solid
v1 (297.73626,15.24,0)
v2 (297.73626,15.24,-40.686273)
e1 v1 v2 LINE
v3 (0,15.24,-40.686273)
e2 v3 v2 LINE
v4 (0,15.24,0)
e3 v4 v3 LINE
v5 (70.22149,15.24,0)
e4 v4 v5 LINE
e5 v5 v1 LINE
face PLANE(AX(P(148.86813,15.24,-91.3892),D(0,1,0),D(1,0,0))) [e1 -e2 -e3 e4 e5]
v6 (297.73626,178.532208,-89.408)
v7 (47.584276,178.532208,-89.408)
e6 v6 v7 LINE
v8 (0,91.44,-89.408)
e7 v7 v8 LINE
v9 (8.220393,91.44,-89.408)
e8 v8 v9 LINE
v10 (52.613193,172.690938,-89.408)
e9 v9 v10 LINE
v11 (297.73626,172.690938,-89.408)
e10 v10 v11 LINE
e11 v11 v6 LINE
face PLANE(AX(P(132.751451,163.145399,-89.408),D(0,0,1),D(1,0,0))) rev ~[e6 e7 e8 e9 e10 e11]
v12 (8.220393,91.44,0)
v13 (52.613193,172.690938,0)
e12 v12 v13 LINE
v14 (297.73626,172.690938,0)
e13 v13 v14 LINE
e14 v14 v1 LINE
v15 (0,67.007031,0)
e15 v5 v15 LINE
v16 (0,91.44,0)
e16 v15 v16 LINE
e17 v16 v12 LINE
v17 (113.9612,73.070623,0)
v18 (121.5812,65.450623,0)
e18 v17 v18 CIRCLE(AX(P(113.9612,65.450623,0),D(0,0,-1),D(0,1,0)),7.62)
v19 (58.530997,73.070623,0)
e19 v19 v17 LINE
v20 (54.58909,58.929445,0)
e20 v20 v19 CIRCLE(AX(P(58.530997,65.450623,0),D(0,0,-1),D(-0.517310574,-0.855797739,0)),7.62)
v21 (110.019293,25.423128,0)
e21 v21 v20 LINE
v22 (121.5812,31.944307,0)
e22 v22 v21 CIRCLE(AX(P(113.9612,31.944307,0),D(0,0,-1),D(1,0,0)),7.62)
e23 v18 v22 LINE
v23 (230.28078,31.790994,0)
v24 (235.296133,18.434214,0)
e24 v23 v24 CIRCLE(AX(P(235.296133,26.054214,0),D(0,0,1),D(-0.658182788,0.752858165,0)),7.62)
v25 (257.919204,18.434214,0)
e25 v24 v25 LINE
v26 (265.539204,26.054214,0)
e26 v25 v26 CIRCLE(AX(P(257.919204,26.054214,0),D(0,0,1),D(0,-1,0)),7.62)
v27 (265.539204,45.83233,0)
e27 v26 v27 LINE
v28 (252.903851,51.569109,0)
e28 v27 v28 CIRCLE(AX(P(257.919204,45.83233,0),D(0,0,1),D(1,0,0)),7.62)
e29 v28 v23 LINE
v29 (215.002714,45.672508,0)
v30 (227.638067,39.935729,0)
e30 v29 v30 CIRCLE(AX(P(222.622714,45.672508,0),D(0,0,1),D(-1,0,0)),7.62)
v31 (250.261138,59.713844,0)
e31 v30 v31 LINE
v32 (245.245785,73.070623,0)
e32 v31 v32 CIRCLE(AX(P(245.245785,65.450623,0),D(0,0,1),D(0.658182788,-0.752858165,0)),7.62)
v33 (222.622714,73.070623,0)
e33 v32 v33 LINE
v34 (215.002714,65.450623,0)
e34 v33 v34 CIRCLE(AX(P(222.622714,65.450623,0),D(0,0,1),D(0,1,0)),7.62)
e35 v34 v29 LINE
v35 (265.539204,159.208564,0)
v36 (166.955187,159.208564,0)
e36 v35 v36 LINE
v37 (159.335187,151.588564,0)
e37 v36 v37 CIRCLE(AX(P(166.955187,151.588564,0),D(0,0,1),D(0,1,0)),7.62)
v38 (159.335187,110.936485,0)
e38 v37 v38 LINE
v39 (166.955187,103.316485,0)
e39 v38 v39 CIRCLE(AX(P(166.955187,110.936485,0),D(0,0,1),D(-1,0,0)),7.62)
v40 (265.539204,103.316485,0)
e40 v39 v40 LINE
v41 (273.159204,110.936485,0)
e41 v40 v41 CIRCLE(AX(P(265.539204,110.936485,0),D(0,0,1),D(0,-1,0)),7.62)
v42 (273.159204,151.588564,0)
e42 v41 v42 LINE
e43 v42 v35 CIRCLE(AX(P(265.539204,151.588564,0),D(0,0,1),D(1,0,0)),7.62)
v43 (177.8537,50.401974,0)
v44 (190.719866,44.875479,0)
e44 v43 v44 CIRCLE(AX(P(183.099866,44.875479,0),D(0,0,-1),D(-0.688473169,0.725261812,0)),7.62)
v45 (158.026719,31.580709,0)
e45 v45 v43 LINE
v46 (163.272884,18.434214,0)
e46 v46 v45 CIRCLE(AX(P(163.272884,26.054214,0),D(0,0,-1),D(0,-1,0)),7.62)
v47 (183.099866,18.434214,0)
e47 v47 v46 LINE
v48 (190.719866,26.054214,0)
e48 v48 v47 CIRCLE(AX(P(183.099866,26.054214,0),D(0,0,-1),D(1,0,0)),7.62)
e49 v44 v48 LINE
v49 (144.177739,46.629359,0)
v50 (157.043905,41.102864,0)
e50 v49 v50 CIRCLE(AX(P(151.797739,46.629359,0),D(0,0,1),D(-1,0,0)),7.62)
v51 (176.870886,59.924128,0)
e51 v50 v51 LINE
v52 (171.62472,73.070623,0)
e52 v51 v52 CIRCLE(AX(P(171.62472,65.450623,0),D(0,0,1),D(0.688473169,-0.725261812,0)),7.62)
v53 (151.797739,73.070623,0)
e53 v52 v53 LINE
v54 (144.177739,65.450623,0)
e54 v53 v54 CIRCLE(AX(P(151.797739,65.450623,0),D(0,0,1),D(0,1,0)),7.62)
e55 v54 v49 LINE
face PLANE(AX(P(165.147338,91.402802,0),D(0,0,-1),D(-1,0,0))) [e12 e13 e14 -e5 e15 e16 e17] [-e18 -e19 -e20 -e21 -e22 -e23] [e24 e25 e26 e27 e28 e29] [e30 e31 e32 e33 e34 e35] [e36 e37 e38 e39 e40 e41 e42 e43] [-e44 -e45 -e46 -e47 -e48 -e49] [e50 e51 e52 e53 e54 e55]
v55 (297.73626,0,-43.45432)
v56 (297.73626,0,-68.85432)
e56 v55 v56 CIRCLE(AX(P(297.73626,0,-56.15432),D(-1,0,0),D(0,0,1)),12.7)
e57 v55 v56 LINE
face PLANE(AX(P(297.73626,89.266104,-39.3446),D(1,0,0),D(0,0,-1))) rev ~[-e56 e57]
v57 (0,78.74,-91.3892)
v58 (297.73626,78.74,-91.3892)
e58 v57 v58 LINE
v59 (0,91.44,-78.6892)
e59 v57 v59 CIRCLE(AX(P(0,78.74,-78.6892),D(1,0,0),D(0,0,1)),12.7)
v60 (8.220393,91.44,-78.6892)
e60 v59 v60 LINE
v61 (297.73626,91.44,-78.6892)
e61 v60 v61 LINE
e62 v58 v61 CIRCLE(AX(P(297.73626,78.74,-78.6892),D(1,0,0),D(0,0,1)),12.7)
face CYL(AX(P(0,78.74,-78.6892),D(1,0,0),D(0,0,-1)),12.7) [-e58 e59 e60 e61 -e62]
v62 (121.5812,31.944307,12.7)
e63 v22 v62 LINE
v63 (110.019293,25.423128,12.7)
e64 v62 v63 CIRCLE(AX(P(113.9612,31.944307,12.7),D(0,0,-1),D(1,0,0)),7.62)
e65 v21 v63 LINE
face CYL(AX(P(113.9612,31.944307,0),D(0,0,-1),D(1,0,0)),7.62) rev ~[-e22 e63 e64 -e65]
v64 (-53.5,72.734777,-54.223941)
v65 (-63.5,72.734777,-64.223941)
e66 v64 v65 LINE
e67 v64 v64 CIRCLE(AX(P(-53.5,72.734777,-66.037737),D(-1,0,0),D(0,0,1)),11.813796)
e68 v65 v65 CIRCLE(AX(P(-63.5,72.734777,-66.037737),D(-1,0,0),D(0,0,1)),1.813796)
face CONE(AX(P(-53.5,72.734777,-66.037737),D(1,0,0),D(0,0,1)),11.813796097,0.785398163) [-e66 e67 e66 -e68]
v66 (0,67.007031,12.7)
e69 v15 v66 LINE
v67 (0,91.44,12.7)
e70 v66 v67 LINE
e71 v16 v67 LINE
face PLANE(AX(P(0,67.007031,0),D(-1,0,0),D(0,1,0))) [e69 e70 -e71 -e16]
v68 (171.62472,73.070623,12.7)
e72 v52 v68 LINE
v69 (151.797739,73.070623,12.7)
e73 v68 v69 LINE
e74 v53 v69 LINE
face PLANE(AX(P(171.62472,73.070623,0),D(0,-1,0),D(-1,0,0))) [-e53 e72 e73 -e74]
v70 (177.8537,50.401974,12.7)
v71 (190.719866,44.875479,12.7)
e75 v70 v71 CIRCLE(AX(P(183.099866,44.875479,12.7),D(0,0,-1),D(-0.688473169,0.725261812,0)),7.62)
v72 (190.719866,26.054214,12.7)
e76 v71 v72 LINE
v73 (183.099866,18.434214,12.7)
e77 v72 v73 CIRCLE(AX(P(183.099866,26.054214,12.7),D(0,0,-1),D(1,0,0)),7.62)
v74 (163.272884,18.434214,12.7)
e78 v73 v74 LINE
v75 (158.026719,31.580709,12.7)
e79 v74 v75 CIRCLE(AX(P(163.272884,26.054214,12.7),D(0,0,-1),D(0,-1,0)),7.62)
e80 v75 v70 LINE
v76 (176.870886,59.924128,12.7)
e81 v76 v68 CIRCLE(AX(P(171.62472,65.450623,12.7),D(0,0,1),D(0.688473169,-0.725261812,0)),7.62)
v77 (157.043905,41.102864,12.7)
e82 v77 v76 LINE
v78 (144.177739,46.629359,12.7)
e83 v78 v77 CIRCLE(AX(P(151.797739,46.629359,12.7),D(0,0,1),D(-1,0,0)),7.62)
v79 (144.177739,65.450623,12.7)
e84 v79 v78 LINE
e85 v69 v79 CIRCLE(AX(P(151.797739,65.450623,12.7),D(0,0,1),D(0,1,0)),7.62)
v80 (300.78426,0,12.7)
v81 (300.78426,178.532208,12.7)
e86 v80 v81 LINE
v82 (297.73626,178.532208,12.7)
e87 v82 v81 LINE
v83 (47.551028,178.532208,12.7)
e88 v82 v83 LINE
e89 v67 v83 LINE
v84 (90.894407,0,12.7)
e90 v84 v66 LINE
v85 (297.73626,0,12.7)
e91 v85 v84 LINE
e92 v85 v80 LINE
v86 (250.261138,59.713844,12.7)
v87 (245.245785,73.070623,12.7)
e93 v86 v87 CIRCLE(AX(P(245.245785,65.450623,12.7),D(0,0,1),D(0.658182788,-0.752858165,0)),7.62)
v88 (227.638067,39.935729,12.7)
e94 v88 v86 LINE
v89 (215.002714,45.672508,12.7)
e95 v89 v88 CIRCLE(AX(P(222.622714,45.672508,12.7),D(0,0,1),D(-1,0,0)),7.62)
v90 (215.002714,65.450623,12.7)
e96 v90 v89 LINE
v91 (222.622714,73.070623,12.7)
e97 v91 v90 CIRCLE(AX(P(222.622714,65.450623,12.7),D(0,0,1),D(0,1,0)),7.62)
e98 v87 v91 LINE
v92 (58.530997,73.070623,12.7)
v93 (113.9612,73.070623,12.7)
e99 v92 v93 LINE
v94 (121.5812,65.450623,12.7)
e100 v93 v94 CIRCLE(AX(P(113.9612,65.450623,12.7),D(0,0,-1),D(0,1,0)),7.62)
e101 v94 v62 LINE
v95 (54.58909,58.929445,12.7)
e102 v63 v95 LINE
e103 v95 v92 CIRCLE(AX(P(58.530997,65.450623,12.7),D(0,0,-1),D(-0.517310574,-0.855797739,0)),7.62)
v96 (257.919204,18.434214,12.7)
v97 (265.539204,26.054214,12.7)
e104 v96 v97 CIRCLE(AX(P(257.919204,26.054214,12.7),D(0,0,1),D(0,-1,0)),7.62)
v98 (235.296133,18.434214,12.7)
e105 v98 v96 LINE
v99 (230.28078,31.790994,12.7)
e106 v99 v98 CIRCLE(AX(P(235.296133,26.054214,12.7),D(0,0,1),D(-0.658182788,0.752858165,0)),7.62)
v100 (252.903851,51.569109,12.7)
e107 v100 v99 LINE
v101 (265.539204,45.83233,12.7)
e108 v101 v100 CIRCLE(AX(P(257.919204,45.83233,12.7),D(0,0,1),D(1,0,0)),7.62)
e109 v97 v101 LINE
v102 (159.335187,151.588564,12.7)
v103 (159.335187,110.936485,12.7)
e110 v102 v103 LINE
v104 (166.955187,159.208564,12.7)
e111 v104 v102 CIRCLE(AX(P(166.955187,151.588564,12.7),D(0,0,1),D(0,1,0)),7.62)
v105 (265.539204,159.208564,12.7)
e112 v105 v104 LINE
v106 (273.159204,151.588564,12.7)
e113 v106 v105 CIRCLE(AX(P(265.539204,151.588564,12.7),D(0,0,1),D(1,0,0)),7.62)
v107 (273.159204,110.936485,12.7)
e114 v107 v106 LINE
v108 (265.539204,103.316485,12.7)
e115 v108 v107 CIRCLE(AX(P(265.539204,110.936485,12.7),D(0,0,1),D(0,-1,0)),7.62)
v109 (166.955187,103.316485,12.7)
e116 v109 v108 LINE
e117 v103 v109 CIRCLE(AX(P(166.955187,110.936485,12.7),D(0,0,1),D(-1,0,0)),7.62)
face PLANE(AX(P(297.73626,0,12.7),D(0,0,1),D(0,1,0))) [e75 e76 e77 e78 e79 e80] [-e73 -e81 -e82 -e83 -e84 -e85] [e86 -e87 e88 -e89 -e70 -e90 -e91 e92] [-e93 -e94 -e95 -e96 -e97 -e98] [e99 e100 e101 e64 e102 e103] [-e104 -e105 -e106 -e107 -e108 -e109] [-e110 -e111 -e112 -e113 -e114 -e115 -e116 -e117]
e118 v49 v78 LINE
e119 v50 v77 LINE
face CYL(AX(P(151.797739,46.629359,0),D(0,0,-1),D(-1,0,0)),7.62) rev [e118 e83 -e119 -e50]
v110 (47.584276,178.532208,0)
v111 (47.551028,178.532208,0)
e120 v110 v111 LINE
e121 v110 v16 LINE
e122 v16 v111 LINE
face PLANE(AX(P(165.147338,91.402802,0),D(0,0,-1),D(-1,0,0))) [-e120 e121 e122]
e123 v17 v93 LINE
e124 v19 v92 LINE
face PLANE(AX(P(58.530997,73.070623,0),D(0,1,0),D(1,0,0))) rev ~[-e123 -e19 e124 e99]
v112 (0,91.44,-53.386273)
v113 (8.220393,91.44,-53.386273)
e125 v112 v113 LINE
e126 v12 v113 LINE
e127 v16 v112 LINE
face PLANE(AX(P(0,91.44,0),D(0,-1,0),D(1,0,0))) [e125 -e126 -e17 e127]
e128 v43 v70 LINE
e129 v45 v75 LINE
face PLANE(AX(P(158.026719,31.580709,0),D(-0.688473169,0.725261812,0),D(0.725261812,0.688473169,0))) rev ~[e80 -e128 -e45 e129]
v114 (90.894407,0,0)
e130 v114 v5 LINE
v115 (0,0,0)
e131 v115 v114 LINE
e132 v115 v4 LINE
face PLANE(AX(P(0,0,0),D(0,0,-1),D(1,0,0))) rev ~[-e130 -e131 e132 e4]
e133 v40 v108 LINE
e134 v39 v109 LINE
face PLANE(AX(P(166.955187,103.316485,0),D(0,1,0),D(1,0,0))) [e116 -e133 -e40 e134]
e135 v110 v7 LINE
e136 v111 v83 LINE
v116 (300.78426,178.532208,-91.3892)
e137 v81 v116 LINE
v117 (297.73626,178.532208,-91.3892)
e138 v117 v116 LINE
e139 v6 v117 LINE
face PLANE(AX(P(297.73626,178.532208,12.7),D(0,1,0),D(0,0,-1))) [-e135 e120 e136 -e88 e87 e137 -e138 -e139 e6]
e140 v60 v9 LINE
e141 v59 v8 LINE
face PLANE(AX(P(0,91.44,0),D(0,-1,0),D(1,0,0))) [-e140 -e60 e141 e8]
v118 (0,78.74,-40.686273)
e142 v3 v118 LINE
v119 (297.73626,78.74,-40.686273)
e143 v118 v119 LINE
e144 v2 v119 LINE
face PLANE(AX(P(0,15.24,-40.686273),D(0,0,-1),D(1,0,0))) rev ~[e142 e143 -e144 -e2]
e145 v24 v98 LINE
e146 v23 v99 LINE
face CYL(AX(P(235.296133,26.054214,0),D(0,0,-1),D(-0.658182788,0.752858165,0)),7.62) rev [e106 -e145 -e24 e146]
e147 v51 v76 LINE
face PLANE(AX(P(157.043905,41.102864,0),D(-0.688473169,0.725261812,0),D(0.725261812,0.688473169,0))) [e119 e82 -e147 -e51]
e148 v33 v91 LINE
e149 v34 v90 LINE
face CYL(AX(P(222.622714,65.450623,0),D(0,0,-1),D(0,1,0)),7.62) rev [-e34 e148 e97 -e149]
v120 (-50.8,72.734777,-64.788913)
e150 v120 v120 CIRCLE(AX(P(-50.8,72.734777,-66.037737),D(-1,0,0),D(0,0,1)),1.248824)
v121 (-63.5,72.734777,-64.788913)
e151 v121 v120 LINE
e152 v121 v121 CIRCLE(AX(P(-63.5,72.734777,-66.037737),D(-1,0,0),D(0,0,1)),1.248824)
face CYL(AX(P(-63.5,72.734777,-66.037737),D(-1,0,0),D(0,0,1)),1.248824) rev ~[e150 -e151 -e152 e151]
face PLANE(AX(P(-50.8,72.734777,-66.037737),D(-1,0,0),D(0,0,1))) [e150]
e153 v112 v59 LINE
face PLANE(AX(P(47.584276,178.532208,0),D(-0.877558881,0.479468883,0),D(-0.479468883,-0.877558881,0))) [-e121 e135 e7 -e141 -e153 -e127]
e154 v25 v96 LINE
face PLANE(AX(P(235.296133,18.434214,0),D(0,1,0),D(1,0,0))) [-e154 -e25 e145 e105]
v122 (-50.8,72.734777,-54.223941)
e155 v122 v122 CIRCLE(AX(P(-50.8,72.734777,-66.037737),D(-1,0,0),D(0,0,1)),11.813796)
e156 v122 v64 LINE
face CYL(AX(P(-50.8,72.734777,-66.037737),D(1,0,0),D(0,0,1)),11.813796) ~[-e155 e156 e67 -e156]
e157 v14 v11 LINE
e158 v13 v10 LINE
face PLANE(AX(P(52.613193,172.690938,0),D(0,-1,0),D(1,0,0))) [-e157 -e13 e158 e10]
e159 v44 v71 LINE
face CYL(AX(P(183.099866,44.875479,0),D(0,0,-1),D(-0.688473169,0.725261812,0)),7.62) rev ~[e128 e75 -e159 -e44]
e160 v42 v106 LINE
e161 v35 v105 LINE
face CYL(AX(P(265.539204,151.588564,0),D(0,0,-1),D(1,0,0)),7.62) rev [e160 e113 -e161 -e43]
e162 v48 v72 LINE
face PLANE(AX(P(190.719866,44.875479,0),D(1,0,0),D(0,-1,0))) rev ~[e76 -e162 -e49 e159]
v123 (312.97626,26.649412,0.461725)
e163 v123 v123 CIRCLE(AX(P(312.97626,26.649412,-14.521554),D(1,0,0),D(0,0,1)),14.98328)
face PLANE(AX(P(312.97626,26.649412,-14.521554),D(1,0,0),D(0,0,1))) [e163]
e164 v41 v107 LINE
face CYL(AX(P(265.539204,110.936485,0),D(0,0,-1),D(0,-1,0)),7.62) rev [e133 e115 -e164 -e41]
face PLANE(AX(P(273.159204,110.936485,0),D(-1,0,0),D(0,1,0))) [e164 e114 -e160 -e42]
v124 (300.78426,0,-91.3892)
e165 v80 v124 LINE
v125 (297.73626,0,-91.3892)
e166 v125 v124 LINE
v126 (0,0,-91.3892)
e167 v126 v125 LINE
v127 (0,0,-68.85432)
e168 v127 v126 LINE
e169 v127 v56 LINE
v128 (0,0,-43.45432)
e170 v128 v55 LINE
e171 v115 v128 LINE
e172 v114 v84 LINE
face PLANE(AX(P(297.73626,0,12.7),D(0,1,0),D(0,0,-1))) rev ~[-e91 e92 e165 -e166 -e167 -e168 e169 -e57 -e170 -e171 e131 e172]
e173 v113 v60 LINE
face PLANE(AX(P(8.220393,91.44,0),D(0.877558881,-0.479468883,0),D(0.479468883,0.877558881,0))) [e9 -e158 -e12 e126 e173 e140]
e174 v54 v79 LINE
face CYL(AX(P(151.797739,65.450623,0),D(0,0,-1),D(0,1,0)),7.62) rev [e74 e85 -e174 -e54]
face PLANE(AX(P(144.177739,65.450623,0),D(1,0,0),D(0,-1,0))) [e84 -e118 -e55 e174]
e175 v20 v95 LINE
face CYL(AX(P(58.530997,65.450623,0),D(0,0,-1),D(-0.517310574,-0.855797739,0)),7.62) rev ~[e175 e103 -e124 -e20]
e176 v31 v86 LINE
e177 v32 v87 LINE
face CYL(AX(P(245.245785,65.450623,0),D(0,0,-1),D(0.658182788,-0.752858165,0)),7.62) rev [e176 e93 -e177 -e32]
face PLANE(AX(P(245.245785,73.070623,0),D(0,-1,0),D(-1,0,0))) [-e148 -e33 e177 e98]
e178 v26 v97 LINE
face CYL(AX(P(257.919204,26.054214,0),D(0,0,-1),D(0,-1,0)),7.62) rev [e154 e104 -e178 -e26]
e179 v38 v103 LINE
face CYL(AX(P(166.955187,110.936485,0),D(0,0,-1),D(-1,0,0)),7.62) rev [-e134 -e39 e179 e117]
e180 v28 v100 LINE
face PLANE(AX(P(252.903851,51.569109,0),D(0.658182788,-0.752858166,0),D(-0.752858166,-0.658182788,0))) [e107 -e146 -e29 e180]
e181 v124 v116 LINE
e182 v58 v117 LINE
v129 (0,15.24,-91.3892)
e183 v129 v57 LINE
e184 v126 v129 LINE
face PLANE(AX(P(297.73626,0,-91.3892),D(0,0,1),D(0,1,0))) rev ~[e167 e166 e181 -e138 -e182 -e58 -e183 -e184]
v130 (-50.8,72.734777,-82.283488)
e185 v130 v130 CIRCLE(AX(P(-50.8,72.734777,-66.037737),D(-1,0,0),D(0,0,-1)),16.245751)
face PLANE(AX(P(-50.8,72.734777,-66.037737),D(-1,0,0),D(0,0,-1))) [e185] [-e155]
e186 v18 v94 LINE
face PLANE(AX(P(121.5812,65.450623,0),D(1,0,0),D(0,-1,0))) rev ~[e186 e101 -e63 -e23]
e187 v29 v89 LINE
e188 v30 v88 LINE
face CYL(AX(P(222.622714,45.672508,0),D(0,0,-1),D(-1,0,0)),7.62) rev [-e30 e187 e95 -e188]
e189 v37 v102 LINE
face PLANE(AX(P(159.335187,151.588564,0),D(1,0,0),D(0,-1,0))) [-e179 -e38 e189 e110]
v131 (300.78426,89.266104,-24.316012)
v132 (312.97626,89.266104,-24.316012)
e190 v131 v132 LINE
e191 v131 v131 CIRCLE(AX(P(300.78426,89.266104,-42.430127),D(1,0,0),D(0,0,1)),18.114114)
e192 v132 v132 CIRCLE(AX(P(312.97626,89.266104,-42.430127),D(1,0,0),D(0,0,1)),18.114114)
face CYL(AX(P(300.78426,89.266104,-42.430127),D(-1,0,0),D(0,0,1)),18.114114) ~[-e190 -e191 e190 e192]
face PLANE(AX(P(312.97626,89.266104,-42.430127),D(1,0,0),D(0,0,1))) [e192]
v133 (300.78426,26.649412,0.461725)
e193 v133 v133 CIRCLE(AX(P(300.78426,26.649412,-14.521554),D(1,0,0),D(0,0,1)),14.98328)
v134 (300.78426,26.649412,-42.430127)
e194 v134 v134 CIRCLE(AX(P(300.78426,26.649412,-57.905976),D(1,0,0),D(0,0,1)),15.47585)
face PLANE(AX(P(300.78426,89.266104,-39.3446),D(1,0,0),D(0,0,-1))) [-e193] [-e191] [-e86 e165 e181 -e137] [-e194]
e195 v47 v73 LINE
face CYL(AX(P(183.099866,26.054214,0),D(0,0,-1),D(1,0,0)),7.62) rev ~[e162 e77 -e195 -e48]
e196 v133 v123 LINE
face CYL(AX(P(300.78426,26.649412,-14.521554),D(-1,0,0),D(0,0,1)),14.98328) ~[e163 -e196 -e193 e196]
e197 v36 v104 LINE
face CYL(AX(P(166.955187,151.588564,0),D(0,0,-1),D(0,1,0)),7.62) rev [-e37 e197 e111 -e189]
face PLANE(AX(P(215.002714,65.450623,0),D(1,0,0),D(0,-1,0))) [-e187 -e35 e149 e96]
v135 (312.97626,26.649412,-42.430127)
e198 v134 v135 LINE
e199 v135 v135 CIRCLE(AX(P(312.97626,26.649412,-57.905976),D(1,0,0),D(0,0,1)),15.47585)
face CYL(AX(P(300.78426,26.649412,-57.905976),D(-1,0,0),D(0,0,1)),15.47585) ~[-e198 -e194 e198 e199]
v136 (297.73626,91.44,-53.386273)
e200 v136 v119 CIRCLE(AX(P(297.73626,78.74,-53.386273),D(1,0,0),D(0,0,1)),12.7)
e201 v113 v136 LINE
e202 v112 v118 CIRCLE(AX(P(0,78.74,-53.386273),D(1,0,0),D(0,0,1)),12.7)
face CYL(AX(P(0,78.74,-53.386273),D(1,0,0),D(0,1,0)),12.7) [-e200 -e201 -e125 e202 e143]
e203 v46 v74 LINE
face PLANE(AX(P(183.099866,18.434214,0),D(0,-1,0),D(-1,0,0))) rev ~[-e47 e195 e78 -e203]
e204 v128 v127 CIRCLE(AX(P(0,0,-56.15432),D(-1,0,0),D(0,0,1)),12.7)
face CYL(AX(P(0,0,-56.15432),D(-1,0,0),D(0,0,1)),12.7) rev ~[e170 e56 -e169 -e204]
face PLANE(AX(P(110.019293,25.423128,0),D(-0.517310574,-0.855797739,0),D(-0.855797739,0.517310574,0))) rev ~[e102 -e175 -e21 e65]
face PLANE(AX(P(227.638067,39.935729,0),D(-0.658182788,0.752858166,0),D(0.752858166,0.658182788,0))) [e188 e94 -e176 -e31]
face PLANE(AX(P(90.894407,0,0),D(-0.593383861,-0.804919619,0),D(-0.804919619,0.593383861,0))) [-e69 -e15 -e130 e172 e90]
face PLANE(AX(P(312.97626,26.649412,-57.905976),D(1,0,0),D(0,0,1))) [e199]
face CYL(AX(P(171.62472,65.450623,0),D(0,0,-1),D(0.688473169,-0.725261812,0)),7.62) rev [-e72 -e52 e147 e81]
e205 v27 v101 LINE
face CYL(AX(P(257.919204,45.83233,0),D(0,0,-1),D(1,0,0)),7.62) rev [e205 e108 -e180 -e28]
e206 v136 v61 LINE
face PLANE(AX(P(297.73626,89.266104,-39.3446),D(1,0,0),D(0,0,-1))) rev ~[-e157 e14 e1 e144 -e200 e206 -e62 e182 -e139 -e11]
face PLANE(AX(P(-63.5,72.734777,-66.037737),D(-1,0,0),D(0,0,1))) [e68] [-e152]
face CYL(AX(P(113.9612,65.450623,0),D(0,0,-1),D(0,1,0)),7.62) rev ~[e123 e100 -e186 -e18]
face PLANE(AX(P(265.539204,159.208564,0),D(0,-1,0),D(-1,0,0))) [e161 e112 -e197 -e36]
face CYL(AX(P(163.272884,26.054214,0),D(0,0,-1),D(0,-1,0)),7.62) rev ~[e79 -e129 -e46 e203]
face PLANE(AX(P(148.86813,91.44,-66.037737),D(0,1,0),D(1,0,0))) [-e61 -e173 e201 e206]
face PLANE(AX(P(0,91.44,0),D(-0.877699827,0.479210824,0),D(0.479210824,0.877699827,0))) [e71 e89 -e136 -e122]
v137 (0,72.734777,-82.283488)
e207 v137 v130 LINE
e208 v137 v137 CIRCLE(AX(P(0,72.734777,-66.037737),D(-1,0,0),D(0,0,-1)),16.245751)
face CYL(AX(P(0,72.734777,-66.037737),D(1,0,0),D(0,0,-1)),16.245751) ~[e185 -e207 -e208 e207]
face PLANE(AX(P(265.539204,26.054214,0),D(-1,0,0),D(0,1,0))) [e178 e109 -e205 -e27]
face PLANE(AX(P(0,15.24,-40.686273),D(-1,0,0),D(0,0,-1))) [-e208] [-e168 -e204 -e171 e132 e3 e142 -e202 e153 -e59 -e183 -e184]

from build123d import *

# Parameters (mm, degrees)
SKETCH1_W           = 297.73626
SKETCH1_H           = 182.7784
BOSS_EXTRUDE1_DEPTH = 15.24
CUT_EXTRUDE1_DEPTH  = 350.695698609
CUT_EXTRUDE2_DEPTH  = 350.695698609
SKETCH5_W           = 297.73626
SKETCH5_H           = 50.702926555
BOSS_EXTRUDE2_DEPTH = 76.2
FILLET1_R           = 12.7
FILLET2_R           = 12.7
SKETCH6_R           = 16.245750799
BOSS_EXTRUDE3_DEPTH = 50.8
SKETCH7_R           = 11.813796097
BOSS_EXTRUDE4_DEPTH = 12.7
CHAMFER1_SIZE       = 10
SKETCH8_R           = 1.248823532
CUT_EXTRUDE3_DEPTH  = 12.7
BOSS_EXTRUDE5_DEPTH = 12.7
BOSS_EXTRUDE6_DEPTH = 89.408
SKETCH11_W          = 104.0892
SKETCH11_H          = 178.532208179
BOSS_EXTRUDE7_DEPTH = 3.048
SKETCH12_R          = 15.475849778
SKETCH12_R_2        = 18.114114382
SKETCH12_R_3        = 14.983279797
BOSS_EXTRUDE8_DEPTH = 12.192


with BuildPart() as part:
    # Sketch1 → Boss-Extrude1 (new body)
    with BuildSketch(Plane(origin=(0, 0, 0), x_dir=(1, 0, 0), z_dir=(0, 1, 0))):
        with Locations((148.86813, 91.3892)):
            Rectangle(SKETCH1_W, SKETCH1_H)
    extrude(amount=BOSS_EXTRUDE1_DEPTH)

    # Sketch2 → Cut-Extrude1 (cut, through all)
    with BuildSketch(Plane.ZY):
        with BuildLine():
            ThreePointArc((-43.45432, 0), (-56.15432, 12.7), (-68.85432, 0))
            Line((-68.85432, 0), (-43.45432, 0))
        make_face()
        with BuildLine():
            ThreePointArc((-113.92408, 0), (-126.62408, 12.7), (-139.32408, 0))
            Line((-139.32408, 0), (-126.62408, 0))
            Line((-126.62408, 0), (-113.92408, 0))
        make_face()
    extrude(amount=-CUT_EXTRUDE1_DEPTH, mode=Mode.SUBTRACT)

    # Sketch4 → Cut-Extrude2 (cut, through all)
    with BuildSketch(Plane.ZY):
        with BuildLine():
            Line((-113.92408, 0), (-91.3892, 0))
            Line((-91.3892, 0), (-91.3892, 15.24))
            Line((-91.3892, 15.24), (-182.7784, 15.24))
            Line((-182.7784, 15.24), (-182.7784, 0))
            Line((-182.7784, 0), (-139.32408, 0))
            ThreePointArc((-139.32408, 0), (-126.62408, 12.7), (-113.92408, 0))
        make_face()
    extrude(amount=-CUT_EXTRUDE2_DEPTH, mode=Mode.SUBTRACT)

    # Sketch5 → Boss-Extrude2 (add)
    with BuildSketch(Plane(origin=(0, 15.24, 0), x_dir=(1, 0, 0), z_dir=(0, 1, 0))):
        with Locations((148.86813, 66.037736723)):
            Rectangle(SKETCH5_W, SKETCH5_H)
    extrude(amount=BOSS_EXTRUDE2_DEPTH)

    # Fillet1
    fillet1_edges = [part.edges().sort_by_distance(p)[0] for p in [
        (148.86813, 91.44, -91.3892),
    ]]
    fillet(fillet1_edges, radius=FILLET1_R)

    # Fillet2
    fillet2_edges = [part.edges().sort_by_distance(p)[0] for p in [
        (148.86813, 91.44, -40.686273445),
    ]]
    fillet(fillet2_edges, radius=FILLET2_R)

    # Sketch6 → Boss-Extrude3 (add)
    with BuildSketch(Plane.ZY):
        with Locations(Location((-66.037736722, 72.73477654, 0), (0, 0, 180))):
            Circle(SKETCH6_R)
    extrude(amount=BOSS_EXTRUDE3_DEPTH)

    # Sketch7 → Boss-Extrude4 (add)
    with BuildSketch(Plane.ZY.offset(50.8)):
        with Locations((-66.037736722, 72.73477654)):
            Circle(SKETCH7_R)
    extrude(amount=BOSS_EXTRUDE4_DEPTH)

    # Chamfer1
    chamfer1_edges = [part.edges().sort_by_distance(p)[0] for p in [
        (-63.5, 72.73477654, -77.851532819),
    ]]
    chamfer(chamfer1_edges, length=CHAMFER1_SIZE)

    # Sketch8 → Cut-Extrude3 (cut)
    with BuildSketch(Plane.ZY.offset(63.5)):
        with Locations((-66.037736722, 72.73477654)):
            Circle(SKETCH8_R)
    extrude(amount=-CUT_EXTRUDE3_DEPTH, mode=Mode.SUBTRACT)

    # Sketch9 → Boss-Extrude5 (add)
    with BuildSketch(Plane.XY):
        Polygon((297.73626, 0), (90.894406839, 0), (0, 67.007031279), (0, 91.44), (47.551027836, 178.532208179), (90.894406839, 178.532208179), (297.73626, 178.532208179), align=None)
        with BuildLine():
            Line((58.530996724, 73.070623488), (113.961199629, 73.070623488))
            ThreePointArc((113.961199629, 73.070623488), (119.349353302, 70.83877716), (121.581199629, 65.450623488))
            Line((121.581199629, 65.450623488), (121.581199629, 31.944306806))
            ThreePointArc((121.581199629, 31.944306806), (117.704665398, 25.307224312), (110.019293058, 25.423128034))
            Line((110.019293058, 25.423128034), (54.589090153, 58.929444715))
            ThreePointArc((54.589090153, 58.929444715), (51.190840655, 67.496719496), (58.530996724, 73.070623488))
        make_face(mode=Mode.SUBTRACT)
        with BuildLine():
            Line((265.539203866, 159.20856434), (166.955187388, 159.20856434))
            ThreePointArc((166.955187388, 159.20856434), (161.567033715, 156.976718013), (159.335187388, 151.58856434))
            Line((159.335187388, 151.58856434), (159.335187388, 110.936484564))
            ThreePointArc((159.335187388, 110.936484564), (161.567033715, 105.548330891), (166.955187388, 103.316484564))
            Line((166.955187388, 103.316484564), (265.539203866, 103.316484564))
            ThreePointArc((265.539203866, 103.316484564), (270.927357539, 105.548330891), (273.159203866, 110.936484564))
            Line((273.159203866, 110.936484564), (273.159203866, 151.58856434))
            ThreePointArc((273.159203866, 151.58856434), (270.927357539, 156.976718013), (265.539203866, 159.20856434))
        make_face(mode=Mode.SUBTRACT)
        with BuildLine():
            Line((144.177739207, 65.450623488), (144.177739207, 46.629358654))
            ThreePointArc((144.177739207, 46.629358654), (148.790363397, 39.627923749), (157.043904755, 41.102863649))
            Line((157.043904755, 41.102863649), (176.87088603, 59.924128483))
            ThreePointArc((176.87088603, 59.924128483), (178.70201841, 68.274849759), (171.624720482, 73.070623488))
            Line((171.624720482, 73.070623488), (151.797739207, 73.070623488))
            ThreePointArc((151.797739207, 73.070623488), (146.409585534, 70.83877716), (144.177739207, 65.450623488))
        make_face(mode=Mode.SUBTRACT)
        with BuildLine():
            Line((183.099865501, 18.43421436), (163.272884226, 18.43421436))
            ThreePointArc((163.272884226, 18.43421436), (156.195586298, 23.229988089), (158.026718678, 31.580709365))
            Line((158.026718678, 31.580709365), (177.853699953, 50.401974198))
            ThreePointArc((177.853699953, 50.401974198), (186.107241311, 51.876914099), (190.719865501, 44.875479193))
            Line((190.719865501, 44.875479193), (190.719865501, 26.05421436))
            ThreePointArc((190.719865501, 26.05421436), (188.488019173, 20.666060687), (183.099865501, 18.43421436))
        make_face(mode=Mode.SUBTRACT)
        with BuildLine():
            Line((215.002714002, 65.450623488), (215.002714002, 45.672508012))
            ThreePointArc((215.002714002, 45.672508012), (219.472522634, 38.734158472), (227.638066848, 39.935728791))
            Line((227.638066848, 39.935728791), (250.261137525, 59.713844266))
            ThreePointArc((250.261137525, 59.713844266), (252.379460368, 68.129255819), (245.245784679, 73.070623488))
            Line((245.245784679, 73.070623488), (222.622714002, 73.070623488))
            ThreePointArc((222.622714002, 73.070623488), (217.234560329, 70.83877716), (215.002714002, 65.450623488))
        make_face(mode=Mode.SUBTRACT)
        with BuildLine():
            Line((235.296133189, 18.43421436), (257.919203866, 18.43421436))
            ThreePointArc((257.919203866, 18.43421436), (263.307357539, 20.666060687), (265.539203866, 26.05421436))
            Line((265.539203866, 26.05421436), (265.539203866, 45.832329836))
            ThreePointArc((265.539203866, 45.832329836), (261.069395235, 52.770679376), (252.903851021, 51.569109057))
            Line((252.903851021, 51.569109057), (230.280780343, 31.790993581))
            ThreePointArc((230.280780343, 31.790993581), (228.1624575, 23.375582029), (235.296133189, 18.43421436))
        make_face(mode=Mode.SUBTRACT)
    extrude(amount=BOSS_EXTRUDE5_DEPTH)

    # Sketch10 → Boss-Extrude6 (add)
    with BuildSketch(Plane(origin=(0, 0, 0), x_dir=(-1, 0, 0), z_dir=(0, 0, -1))):
        Polygon((-47.58427569, 178.532208179), (0, 91.44), (-8.220392821, 91.44), (-52.613193371, 172.690937859), (-297.73626, 172.690937859), (-297.73626, 178.532208179), align=None)
    extrude(amount=BOSS_EXTRUDE6_DEPTH)

    # Sketch11 → Boss-Extrude7 (add)
    with BuildSketch(Plane(origin=(297.73626, 0, 0), x_dir=(0, 0, -1), z_dir=(1, 0, 0))):
        with Locations((39.3446, 89.26610409)):
            Rectangle(SKETCH11_W, SKETCH11_H)
    extrude(amount=BOSS_EXTRUDE7_DEPTH)

    # Sketch12 → Boss-Extrude8 (add)
    with BuildSketch(Plane(origin=(300.78426, 0, 0), x_dir=(0, 0, -1), z_dir=(1, 0, 0))):
        with Locations(Location((57.905976466, 26.649412399, 0), (0, 0, 180))):
            Circle(SKETCH12_R)
        with Locations(Location((42.430126688, 89.26610409, 0), (0, 0, 180))):
            Circle(SKETCH12_R_2)
        with Locations(Location((14.521554365, 26.649412399, 0), (0, 0, 180))):
            Circle(SKETCH12_R_3)
    extrude(amount=BOSS_EXTRUDE8_DEPTH)


solid = part.part
